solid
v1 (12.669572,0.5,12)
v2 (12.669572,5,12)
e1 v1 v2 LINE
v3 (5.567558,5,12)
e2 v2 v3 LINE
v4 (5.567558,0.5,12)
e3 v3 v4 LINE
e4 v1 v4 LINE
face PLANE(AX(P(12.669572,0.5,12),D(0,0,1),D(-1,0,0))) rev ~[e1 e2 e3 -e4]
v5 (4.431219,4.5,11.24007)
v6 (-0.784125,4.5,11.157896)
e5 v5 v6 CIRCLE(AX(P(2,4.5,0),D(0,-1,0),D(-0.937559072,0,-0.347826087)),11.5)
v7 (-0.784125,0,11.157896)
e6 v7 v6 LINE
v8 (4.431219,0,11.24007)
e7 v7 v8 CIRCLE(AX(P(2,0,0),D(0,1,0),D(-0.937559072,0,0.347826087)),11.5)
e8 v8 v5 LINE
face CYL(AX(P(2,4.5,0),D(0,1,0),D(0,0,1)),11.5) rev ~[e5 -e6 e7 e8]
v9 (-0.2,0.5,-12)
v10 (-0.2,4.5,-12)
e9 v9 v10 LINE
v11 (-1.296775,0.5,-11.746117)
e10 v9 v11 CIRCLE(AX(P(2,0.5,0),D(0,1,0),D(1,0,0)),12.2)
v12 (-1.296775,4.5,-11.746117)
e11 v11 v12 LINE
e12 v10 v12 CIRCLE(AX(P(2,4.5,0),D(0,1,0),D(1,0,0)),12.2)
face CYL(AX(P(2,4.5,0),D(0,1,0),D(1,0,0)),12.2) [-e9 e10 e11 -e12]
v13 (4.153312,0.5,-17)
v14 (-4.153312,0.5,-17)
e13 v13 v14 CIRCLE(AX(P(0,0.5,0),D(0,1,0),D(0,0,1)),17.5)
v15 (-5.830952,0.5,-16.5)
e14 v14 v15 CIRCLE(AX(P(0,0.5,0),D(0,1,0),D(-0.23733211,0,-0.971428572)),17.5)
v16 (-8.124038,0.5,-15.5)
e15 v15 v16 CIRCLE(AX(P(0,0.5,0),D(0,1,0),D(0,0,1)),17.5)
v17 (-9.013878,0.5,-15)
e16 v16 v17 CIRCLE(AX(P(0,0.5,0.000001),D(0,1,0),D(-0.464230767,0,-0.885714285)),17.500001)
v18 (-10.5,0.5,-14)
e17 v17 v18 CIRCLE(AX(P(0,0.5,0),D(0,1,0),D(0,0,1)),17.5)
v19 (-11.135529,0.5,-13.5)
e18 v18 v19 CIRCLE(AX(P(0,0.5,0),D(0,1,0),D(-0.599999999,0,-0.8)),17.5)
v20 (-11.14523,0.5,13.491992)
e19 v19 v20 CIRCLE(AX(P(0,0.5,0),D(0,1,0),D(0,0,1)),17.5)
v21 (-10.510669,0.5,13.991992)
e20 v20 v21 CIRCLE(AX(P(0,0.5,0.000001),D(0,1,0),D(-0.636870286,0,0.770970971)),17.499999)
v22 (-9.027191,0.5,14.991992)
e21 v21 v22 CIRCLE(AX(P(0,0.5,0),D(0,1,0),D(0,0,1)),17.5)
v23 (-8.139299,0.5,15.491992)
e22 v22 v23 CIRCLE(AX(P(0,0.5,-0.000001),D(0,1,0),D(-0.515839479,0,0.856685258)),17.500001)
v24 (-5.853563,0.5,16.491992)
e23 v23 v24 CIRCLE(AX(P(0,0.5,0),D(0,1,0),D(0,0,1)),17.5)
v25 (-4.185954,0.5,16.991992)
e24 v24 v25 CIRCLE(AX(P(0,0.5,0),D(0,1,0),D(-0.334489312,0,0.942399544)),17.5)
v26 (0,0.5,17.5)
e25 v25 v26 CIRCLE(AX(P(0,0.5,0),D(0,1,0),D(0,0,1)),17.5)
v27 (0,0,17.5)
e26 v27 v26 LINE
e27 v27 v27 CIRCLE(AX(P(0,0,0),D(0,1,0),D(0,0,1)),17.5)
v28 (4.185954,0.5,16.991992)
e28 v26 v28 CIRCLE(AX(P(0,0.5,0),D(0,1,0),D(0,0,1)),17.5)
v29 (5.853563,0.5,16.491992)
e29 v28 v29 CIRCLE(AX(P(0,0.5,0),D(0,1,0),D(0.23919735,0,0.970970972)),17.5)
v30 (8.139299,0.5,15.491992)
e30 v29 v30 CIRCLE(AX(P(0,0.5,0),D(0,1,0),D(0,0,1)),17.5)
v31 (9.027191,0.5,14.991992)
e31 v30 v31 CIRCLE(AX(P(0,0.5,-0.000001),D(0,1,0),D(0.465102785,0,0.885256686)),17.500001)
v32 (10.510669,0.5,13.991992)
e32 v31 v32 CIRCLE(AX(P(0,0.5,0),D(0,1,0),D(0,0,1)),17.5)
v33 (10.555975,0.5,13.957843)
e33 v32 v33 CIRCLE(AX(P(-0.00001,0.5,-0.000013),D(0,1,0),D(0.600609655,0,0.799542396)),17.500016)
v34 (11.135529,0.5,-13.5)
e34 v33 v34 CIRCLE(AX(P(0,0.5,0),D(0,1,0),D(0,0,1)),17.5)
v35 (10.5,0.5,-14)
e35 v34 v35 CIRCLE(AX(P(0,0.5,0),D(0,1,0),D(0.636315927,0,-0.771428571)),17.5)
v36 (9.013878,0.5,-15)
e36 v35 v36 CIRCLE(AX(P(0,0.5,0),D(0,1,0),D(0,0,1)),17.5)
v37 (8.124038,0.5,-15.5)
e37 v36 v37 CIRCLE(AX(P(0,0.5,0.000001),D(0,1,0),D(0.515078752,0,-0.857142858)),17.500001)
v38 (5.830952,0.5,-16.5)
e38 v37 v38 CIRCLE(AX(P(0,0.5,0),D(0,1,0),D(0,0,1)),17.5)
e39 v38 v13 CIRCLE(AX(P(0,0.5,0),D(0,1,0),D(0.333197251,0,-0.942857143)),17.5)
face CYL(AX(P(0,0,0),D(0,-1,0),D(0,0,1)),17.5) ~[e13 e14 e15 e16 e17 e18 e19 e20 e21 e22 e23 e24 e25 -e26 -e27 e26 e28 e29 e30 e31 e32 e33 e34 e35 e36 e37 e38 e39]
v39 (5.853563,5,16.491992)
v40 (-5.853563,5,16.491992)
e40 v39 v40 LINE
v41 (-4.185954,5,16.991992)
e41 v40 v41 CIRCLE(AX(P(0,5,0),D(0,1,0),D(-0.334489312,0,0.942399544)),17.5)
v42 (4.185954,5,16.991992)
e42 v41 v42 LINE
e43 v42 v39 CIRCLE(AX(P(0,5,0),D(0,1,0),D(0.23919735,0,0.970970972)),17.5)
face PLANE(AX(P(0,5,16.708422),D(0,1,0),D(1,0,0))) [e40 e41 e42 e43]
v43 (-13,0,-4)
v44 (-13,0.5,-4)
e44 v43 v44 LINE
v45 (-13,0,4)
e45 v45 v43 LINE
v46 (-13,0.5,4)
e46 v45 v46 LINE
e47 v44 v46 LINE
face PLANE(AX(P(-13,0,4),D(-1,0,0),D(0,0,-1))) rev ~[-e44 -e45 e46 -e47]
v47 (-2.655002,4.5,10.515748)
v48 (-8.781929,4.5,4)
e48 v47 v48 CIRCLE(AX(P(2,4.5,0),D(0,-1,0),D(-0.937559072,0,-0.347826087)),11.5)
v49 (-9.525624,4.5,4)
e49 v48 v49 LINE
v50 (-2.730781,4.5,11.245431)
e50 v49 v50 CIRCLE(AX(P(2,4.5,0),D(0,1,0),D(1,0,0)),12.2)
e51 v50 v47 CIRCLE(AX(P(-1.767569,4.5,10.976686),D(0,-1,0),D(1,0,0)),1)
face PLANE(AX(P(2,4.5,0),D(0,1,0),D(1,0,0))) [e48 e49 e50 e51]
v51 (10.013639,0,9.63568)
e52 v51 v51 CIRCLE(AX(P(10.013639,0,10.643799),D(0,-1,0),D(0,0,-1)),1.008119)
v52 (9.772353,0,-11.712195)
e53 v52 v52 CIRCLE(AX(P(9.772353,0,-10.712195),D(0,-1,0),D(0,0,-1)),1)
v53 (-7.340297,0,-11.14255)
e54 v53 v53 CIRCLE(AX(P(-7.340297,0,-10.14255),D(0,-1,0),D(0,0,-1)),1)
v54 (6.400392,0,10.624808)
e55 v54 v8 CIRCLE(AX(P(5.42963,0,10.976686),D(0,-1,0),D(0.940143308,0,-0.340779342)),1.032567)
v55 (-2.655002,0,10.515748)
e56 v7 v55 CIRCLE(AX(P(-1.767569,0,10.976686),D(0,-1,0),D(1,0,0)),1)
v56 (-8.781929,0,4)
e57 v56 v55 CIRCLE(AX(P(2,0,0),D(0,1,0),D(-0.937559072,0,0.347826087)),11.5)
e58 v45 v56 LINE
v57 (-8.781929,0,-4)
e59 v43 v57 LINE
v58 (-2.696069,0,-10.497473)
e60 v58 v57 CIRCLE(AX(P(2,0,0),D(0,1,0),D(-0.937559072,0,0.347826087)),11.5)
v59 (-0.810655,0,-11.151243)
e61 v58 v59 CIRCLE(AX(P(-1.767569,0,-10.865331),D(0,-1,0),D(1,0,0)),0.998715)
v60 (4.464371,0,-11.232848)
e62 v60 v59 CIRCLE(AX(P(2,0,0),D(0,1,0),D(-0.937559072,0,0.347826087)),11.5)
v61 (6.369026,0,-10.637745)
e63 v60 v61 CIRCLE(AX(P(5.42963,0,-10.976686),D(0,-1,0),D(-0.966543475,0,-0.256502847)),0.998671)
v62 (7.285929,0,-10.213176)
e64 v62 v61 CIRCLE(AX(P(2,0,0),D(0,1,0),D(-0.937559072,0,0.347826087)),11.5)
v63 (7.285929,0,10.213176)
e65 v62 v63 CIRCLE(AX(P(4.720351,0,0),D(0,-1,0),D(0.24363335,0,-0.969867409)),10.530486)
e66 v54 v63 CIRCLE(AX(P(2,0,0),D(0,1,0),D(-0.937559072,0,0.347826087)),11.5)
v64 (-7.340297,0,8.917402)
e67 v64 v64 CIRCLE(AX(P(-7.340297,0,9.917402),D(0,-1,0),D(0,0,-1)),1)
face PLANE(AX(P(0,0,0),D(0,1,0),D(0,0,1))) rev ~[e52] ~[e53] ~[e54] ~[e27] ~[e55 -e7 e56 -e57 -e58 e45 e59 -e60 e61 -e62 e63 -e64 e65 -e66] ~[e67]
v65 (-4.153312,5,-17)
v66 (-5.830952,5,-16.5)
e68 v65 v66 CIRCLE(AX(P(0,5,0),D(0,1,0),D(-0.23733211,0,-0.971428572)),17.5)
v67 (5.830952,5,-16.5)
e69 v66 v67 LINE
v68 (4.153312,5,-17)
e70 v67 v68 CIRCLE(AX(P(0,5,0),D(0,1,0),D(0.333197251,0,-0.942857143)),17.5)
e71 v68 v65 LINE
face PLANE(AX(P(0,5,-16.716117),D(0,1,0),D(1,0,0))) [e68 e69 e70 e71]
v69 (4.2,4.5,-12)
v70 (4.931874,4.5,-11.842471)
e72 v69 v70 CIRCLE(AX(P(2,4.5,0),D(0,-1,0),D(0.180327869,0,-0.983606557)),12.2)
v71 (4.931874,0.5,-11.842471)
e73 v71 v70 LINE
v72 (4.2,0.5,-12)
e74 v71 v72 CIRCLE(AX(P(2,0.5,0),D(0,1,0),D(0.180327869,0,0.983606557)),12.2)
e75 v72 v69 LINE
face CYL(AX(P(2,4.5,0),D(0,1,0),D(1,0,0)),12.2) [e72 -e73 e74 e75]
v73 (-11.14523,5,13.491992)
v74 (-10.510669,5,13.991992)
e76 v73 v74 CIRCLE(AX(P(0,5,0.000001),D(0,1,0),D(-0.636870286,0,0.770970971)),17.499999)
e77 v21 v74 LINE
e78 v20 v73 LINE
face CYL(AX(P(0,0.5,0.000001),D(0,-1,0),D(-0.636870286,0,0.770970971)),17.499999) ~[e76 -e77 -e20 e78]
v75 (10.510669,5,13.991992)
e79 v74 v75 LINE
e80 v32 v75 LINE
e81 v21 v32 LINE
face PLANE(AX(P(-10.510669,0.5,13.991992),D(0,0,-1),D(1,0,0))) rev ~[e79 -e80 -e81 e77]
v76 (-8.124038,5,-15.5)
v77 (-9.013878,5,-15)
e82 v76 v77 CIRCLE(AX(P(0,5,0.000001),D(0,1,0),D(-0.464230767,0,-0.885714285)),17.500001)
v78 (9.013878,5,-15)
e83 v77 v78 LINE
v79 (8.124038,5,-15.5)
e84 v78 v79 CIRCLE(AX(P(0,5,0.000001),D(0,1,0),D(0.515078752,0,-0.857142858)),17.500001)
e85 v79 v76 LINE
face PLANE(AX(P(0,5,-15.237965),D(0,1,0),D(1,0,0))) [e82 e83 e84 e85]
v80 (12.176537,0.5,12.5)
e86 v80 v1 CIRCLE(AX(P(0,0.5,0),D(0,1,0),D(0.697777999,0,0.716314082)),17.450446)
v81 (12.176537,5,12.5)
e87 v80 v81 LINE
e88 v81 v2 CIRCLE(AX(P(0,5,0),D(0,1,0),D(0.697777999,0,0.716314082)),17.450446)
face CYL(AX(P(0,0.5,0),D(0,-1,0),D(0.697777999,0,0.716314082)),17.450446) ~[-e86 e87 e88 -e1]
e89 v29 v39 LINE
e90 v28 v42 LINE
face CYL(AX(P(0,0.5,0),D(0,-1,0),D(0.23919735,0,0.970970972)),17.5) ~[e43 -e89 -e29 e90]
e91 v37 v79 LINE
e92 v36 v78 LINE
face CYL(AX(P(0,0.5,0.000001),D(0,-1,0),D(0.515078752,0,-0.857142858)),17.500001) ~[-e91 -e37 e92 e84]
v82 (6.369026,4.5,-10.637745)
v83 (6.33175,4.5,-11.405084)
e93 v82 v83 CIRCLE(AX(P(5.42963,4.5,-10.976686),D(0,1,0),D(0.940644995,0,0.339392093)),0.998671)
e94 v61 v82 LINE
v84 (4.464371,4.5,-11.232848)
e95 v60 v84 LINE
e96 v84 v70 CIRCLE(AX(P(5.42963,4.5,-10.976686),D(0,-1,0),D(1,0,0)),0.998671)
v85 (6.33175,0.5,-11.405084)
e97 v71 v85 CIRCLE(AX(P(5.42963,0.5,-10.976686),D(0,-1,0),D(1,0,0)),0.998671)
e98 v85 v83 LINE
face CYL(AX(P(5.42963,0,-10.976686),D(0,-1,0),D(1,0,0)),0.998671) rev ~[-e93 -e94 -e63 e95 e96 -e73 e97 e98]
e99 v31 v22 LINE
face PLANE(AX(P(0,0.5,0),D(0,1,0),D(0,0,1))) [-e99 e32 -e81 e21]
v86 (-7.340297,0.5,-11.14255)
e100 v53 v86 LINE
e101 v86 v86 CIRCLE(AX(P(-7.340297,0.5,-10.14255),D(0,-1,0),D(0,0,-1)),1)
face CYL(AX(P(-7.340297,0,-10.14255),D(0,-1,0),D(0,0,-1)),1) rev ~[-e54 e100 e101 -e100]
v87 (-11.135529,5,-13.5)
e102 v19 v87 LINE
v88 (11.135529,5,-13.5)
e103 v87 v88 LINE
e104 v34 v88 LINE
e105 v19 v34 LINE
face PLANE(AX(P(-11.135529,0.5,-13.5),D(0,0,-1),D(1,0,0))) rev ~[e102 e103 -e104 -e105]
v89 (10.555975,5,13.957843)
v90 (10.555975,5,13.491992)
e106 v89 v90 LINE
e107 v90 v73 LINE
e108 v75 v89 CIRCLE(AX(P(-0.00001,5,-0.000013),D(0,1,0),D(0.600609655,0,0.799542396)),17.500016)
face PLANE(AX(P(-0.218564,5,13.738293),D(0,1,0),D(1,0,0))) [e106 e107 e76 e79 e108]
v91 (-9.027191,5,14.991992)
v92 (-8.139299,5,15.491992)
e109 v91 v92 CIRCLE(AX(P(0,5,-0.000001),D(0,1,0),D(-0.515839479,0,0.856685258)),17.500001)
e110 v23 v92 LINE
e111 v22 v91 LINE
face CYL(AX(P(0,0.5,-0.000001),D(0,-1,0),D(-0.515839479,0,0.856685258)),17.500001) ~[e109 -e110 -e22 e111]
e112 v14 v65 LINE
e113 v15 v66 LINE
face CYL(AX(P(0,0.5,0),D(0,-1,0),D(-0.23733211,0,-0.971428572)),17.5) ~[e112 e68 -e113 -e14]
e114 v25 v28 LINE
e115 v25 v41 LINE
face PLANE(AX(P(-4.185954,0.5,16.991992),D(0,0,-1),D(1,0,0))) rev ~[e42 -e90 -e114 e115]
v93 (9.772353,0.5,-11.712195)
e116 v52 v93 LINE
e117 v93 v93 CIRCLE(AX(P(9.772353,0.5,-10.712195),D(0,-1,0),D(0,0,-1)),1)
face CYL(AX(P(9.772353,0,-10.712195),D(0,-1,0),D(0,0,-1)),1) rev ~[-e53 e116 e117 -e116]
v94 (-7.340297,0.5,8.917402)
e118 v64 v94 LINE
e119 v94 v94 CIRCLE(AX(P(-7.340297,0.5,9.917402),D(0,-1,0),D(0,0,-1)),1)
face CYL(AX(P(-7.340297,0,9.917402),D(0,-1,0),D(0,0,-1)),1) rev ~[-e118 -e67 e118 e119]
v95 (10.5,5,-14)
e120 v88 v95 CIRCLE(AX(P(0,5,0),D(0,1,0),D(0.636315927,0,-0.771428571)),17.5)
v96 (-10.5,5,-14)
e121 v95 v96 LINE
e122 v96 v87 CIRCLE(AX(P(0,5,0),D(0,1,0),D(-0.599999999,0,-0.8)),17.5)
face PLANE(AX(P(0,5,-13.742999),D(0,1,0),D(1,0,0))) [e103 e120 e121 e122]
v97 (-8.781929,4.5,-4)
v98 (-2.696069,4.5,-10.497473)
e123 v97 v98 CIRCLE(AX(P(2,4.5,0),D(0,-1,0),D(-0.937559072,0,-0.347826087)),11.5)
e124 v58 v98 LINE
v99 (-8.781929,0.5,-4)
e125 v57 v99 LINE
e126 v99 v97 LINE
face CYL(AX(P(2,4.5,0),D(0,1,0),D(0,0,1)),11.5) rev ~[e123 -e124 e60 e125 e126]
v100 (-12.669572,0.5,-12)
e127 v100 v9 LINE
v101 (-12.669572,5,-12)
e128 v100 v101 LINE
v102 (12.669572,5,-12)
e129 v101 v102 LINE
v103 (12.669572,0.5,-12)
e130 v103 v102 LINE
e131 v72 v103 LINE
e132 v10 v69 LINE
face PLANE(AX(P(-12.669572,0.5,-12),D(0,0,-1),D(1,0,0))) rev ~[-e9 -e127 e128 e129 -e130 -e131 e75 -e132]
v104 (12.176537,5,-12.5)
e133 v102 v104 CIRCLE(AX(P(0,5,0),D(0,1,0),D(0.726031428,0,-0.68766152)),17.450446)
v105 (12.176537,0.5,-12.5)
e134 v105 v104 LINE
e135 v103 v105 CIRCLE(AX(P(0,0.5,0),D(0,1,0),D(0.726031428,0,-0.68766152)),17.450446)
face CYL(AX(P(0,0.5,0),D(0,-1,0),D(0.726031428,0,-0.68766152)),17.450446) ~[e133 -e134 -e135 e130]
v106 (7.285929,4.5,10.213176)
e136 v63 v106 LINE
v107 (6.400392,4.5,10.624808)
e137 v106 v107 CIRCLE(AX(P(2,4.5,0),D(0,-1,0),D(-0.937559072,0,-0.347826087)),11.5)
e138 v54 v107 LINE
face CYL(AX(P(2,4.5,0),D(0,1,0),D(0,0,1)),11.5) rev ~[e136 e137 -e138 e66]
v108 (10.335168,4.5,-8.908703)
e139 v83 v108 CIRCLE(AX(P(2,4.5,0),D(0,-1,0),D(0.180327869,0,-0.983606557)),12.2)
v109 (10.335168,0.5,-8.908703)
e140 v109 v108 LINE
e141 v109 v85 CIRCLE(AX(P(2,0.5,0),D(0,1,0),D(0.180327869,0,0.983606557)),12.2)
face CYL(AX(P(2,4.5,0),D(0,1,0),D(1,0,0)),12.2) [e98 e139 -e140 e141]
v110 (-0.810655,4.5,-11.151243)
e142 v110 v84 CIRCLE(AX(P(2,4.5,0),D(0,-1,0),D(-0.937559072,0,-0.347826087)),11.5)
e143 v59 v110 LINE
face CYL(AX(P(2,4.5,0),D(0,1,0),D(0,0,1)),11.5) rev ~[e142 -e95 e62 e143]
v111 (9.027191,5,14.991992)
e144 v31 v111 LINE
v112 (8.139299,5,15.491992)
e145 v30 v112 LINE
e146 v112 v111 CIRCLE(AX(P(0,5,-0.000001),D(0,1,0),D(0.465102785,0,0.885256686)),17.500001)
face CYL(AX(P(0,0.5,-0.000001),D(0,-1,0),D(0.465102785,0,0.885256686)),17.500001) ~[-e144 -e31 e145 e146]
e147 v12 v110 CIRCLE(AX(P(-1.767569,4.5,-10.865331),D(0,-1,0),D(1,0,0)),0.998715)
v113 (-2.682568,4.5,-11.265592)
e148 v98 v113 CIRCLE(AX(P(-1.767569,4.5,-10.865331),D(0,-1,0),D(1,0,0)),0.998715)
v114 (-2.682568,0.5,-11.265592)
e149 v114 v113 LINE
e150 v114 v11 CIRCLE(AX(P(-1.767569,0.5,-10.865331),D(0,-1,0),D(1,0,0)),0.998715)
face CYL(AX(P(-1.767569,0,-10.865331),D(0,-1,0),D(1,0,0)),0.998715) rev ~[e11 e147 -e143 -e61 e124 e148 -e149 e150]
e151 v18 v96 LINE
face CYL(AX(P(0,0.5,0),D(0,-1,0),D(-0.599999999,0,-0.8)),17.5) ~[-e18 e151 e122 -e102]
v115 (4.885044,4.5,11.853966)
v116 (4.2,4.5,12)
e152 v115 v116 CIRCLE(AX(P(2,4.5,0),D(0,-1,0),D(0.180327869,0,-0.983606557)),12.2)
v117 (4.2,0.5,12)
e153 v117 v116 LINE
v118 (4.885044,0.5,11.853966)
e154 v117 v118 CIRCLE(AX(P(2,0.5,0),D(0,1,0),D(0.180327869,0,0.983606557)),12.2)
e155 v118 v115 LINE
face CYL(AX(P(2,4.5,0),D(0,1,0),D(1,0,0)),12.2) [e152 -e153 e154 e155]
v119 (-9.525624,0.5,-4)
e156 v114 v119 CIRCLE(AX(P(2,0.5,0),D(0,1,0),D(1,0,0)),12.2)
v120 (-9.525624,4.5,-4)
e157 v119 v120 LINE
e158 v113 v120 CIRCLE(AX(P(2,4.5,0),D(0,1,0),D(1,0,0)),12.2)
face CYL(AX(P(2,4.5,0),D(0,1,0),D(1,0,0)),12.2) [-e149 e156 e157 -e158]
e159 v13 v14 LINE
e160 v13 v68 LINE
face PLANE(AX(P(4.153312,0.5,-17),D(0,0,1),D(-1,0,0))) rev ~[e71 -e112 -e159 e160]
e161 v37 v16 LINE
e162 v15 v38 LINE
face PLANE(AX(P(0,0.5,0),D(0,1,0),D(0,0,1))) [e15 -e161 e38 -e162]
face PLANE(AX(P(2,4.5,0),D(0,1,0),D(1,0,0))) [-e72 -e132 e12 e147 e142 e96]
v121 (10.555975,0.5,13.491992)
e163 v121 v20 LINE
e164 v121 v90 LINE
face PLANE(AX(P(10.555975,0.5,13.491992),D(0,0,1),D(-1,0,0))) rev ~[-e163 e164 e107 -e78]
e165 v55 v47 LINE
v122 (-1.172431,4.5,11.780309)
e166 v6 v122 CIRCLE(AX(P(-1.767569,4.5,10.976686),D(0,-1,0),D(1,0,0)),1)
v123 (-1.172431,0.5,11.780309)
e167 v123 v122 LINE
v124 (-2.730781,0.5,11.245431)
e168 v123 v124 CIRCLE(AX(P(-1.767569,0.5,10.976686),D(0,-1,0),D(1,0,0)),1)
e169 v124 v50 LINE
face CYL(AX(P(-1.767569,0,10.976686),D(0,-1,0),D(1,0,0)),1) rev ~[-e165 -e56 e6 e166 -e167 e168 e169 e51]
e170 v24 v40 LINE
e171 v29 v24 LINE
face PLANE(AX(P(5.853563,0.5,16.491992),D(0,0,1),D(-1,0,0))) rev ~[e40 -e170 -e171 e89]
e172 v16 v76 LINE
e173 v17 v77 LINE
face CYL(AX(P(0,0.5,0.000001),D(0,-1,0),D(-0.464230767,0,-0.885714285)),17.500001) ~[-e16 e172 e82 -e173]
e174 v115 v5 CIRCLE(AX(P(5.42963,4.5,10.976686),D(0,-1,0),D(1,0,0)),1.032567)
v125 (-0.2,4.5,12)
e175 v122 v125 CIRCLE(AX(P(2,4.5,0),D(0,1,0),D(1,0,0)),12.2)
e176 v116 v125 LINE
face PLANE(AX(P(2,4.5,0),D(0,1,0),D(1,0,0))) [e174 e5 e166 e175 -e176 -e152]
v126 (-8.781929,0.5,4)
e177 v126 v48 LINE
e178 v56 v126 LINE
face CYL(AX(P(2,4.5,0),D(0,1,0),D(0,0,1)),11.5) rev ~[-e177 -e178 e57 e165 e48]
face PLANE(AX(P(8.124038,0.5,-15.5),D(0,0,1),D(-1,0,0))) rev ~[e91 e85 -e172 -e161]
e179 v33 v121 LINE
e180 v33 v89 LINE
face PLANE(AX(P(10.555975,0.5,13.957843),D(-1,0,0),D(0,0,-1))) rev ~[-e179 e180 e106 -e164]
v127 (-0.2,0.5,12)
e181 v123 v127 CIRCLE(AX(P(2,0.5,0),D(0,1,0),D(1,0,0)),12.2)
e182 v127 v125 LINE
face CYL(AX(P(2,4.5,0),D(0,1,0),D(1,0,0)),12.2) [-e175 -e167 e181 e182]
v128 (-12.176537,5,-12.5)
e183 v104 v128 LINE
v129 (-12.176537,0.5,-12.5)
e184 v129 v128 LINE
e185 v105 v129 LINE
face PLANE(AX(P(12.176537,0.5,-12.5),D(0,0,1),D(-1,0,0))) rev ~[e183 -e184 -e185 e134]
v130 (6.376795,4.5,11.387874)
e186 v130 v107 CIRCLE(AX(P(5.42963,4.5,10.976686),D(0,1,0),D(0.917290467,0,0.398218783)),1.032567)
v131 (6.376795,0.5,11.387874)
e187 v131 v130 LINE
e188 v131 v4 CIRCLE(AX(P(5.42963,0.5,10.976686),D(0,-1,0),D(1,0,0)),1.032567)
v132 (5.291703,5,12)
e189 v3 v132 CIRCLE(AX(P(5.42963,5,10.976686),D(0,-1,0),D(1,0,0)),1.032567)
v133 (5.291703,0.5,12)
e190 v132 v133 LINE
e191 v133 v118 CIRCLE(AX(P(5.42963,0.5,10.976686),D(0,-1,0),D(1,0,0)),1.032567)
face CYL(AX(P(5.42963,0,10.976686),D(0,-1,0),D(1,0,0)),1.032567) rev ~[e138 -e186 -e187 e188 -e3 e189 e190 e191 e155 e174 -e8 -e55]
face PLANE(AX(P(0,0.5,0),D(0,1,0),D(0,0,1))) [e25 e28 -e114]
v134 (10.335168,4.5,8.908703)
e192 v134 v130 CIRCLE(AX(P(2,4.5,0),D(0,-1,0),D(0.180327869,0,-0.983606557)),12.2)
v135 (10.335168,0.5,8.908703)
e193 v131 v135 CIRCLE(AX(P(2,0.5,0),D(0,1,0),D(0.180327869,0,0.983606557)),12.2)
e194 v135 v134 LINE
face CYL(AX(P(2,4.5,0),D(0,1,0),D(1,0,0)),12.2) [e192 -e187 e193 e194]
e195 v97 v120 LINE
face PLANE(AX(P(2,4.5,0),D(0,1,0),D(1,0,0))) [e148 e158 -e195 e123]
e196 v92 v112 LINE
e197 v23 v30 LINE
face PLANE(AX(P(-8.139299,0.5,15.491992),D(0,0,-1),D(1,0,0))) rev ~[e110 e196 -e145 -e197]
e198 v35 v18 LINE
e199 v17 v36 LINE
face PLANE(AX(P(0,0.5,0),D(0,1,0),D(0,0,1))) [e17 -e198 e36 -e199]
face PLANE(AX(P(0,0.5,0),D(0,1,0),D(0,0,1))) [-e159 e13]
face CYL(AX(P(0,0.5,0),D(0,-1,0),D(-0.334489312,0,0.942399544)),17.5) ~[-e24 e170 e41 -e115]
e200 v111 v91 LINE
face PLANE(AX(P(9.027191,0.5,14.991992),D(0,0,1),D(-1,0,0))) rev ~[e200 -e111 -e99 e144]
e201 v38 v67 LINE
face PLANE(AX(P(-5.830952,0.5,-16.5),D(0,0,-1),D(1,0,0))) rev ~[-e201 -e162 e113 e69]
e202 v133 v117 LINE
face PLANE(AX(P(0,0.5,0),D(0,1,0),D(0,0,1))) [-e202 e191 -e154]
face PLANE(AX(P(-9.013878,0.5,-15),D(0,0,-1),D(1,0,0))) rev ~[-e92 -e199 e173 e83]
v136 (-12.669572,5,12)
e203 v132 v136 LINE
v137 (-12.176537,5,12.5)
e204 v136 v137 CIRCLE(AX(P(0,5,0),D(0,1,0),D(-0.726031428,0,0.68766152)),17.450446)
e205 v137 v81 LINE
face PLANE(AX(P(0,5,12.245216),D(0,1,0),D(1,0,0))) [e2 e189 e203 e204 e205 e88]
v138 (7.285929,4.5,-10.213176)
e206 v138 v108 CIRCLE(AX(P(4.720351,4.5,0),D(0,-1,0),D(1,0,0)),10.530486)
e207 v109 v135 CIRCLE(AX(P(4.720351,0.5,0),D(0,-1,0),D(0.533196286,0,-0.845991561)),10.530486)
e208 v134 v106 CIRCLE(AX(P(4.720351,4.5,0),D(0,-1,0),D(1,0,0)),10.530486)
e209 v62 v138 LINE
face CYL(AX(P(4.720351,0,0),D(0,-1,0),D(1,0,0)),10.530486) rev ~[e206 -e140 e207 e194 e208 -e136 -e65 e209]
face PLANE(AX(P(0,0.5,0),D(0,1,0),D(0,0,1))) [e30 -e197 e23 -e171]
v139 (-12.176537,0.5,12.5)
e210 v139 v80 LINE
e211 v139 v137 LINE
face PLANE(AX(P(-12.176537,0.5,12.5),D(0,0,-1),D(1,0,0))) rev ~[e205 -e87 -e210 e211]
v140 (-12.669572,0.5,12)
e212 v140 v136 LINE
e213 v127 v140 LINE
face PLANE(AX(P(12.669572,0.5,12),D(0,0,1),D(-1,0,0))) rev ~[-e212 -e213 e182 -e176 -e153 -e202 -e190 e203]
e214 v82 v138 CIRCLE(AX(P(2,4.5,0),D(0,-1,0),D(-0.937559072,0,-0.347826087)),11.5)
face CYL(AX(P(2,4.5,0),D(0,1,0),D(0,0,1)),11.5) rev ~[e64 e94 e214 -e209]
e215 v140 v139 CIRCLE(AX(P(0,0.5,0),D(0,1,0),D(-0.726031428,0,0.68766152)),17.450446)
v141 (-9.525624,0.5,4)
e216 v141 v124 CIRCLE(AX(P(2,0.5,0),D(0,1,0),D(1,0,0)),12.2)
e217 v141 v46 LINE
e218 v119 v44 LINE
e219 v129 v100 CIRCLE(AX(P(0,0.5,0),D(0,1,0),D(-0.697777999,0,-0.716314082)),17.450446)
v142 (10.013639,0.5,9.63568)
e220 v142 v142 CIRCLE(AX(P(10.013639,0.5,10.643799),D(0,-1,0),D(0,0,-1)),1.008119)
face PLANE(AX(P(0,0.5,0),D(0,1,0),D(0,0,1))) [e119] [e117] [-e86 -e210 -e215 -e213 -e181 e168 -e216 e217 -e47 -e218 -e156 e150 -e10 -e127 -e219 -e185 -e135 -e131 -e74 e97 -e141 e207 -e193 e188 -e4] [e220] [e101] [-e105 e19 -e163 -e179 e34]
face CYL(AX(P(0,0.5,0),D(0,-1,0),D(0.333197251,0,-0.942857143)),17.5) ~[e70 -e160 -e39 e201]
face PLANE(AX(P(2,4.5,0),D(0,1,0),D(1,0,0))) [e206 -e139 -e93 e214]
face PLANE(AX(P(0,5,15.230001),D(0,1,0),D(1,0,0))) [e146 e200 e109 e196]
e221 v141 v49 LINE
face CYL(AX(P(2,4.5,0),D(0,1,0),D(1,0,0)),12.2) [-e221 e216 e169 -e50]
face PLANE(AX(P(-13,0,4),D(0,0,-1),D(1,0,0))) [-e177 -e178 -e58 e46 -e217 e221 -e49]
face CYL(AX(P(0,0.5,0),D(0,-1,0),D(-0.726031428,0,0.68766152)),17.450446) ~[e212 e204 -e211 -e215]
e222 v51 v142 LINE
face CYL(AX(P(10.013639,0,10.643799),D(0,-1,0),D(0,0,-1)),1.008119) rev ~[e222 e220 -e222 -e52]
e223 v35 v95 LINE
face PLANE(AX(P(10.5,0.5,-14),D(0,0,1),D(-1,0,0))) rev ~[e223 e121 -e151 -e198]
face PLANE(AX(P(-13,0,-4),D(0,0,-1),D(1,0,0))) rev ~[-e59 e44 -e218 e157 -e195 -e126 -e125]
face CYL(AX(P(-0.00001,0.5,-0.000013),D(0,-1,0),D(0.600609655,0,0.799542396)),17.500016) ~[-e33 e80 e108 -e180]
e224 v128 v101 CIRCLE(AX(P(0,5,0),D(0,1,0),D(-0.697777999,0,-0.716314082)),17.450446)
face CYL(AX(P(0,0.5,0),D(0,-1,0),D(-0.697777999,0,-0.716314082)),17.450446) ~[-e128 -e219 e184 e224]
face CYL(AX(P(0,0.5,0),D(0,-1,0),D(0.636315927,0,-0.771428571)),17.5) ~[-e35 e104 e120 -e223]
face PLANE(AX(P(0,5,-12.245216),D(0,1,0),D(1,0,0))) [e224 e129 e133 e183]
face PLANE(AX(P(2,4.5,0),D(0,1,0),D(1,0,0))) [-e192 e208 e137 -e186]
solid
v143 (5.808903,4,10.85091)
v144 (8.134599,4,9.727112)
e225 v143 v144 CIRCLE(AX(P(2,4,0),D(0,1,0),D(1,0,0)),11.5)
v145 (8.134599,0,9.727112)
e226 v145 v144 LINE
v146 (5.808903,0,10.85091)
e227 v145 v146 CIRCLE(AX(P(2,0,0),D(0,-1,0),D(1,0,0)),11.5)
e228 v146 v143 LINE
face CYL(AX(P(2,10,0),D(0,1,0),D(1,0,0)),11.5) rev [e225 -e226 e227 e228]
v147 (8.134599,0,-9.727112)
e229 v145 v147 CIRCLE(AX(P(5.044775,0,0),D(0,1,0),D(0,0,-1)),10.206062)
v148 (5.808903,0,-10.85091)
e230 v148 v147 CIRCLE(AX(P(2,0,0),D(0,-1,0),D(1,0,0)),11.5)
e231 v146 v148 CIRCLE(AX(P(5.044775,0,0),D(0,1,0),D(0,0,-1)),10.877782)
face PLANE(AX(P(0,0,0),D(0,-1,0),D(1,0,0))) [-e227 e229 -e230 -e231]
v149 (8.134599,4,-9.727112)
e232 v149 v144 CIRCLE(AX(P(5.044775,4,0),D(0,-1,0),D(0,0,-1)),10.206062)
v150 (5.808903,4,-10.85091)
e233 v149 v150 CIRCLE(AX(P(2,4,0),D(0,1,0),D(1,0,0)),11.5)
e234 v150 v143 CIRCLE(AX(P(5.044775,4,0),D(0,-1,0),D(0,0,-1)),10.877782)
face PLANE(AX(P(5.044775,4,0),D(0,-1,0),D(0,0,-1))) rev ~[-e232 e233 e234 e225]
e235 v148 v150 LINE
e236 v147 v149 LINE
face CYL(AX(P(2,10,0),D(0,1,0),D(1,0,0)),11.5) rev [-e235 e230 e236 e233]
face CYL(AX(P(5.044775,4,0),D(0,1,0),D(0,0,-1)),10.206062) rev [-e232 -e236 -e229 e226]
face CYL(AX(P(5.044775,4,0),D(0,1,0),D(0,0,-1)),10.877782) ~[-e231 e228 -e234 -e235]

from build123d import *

# Parameters (mm, degrees)
SKETCH1_R                = 17.5
BOSS_EXTRUDE1_DEPTH      = 0.5
SKETCH2_R                = 11.5
CUT_EXTRUDE1_DEPTH       = 0.5
SKETCH3_W                = 15
SKETCH3_H                = 8
CUT_EXTRUDE4_DEPTH       = 2.5
BOSS_EXTRUDE6_DEPTH      = 4.5
BOSS_EXTRUDE7_START      = 4
SKETCH9_R                = 12.2
SKETCH9_R_2              = 11.5
BOSS_EXTRUDE7_DEPTH      = 4
SKETCH10_W               = 4.218070674
SKETCH10_H               = 8
CUT_EXTRUDE5_DEPTH       = 6
SKETCH11_R               = 1
SKETCH11_R_2             = 0.998714777
SKETCH11_R_3             = 0.998671431
SKETCH11_R_4             = 1.032567444
SKETCH11_R_5             = 1.008118798
CUT_EXTRUDE7_DEPTH       = 100
SKETCH12_R               = 10.530486407
CUT_EXTRUDE8_DEPTH       = 10
BOSS_EXTRUDE8_DEPTH      = 1
BOSS_EXTRUDE8_DEPTH_BACK = 4
SKETCH13_R               = 10.877782244
SKETCH13_R_2             = 10.206062314
SKETCH15_R               = 24.190565002
CUT_EXTRUDE9_DEPTH       = 1
CUT_EXTRUDE10_START      = -10
SKETCH16_R               = 11.5
CUT_EXTRUDE10_DEPTH      = 10


with BuildPart() as part:
    # Sketch1 → Boss-Extrude1 (new body)
    with BuildSketch(Plane(origin=(0, 0, 0), x_dir=(1, 0, 0), z_dir=(0, 1, 0))):
        with Locations(Location((0, 0, 0), (0, 0, 270))):
            Circle(SKETCH1_R)
    extrude(amount=BOSS_EXTRUDE1_DEPTH)

    # Sketch2 → Cut-Extrude1 (cut)
    with BuildSketch(Plane(origin=(0, 0.5, 0), x_dir=(1, 0, 0), z_dir=(0, 1, 0))):
        with Locations(Location((2, 0, 0), (0, 0, 270))):
            Circle(SKETCH2_R)
    extrude(amount=-CUT_EXTRUDE1_DEPTH, mode=Mode.SUBTRACT)

    # Sketch3 → Cut-Extrude4 (cut)
    with BuildSketch(Plane(origin=(0, 0, 0), x_dir=(1, 0, 0), z_dir=(0, 1, 0))):
        with Locations((-5.5, 0)):
            Rectangle(SKETCH3_W, SKETCH3_H)
    extrude(amount=CUT_EXTRUDE4_DEPTH, mode=Mode.SUBTRACT)

    # Sketch7 → Boss-Extrude6 (add)
    with BuildSketch(Plane(origin=(0, 0.5, 0), x_dir=(1, 0, 0), z_dir=(0, 1, 0))):
        with BuildLine():
            Line((-11.135528726, 13.5), (11.135528726, 13.5))
            ThreePointArc((11.135528726, 13.5), (10.820652744, 13.753671299), (10.5, 14))
            Line((10.5, 14), (-10.5, 14))
            ThreePointArc((-10.5, 14), (-10.820652744, 13.753671299), (-11.135528726, 13.5))
        make_face()
        with BuildLine():
            Line((12.176537068, 12.5), (-12.176537068, 12.5))
            ThreePointArc((-12.176537068, 12.5), (-12.42556977, 12.252480192), (-12.669572012, 12))
            Line((-12.669572012, 12), (12.669572012, 12))
            ThreePointArc((12.669572012, 12), (12.42556977, 12.252480192), (12.176537068, 12.5))
        make_face()
        with BuildLine():
            ThreePointArc((-11.145229996, -13.491992008), (-10.830835088, -13.74565427), (-10.510668849, -13.991992008))
            Line((-10.510668849, -13.991992008), (10.510668849, -13.991992008))
            ThreePointArc((10.510668849, -13.991992008), (10.53333572, -13.974936086), (10.555974914, -13.957843444))
            Line((10.555974914, -13.957843444), (10.555974914, -13.491992008))
            Line((10.555974914, -13.491992008), (-11.145229996, -13.491992008))
        make_face()
        with BuildLine():
            Line((-9.013878189, 15), (9.013878189, 15))
            ThreePointArc((9.013878189, 15), (8.572604405, 15.256488905), (8.124038405, 15.5))
            Line((8.124038405, 15.5), (-8.124038405, 15.5))
            ThreePointArc((-8.124038405, 15.5), (-8.572604405, 15.256488905), (-9.013878189, 15))
        make_face()
        with BuildLine():
            ThreePointArc((-9.027190906, -14.991992008), (-8.586884855, -15.248455938), (-8.139298719, -15.491992008))
            Line((-8.139298719, -15.491992008), (8.139298719, -15.491992008))
            ThreePointArc((8.139298719, -15.491992008), (8.586884855, -15.248455938), (9.027190906, -14.991992008))
            Line((9.027190906, -14.991992008), (-9.027190906, -14.991992008))
        make_face()
        with BuildLine():
            Line((-5.830951895, 16.5), (5.830951895, 16.5))
            ThreePointArc((5.830951895, 16.5), (4.998387844, 16.770990399), (4.153311931, 17))
            Line((4.153311931, 17), (-4.153311931, 17))
            ThreePointArc((-4.153311931, 17), (-4.998387844, 16.770990399), (-5.830951895, 16.5))
        make_face()
        with BuildLine():
            Line((5.853562985, -16.491992008), (-5.853562985, -16.491992008))
            ThreePointArc((-5.853562985, -16.491992008), (-5.025979841, -16.762742217), (-4.185953609, -16.991992008))
            Line((-4.185953609, -16.991992008), (4.185953609, -16.991992008))
            ThreePointArc((4.185953609, -16.991992008), (5.025979841, -16.762742217), (5.853562985, -16.491992008))
        make_face()
        with BuildLine():
            Line((12.669572012, -12), (-12.669572012, -12))
            ThreePointArc((-12.669572012, -12), (-12.42556977, -12.252480192), (-12.176537068, -12.5))
            Line((-12.176537068, -12.5), (12.176537068, -12.5))
            ThreePointArc((12.176537068, -12.5), (12.42556977, -12.252480192), (12.669572012, -12))
        make_face()
    extrude(amount=BOSS_EXTRUDE6_DEPTH)

    # Sketch9 → Boss-Extrude7 (add)
    with BuildSketch(Plane(origin=(0, 0.5, 0), x_dir=(1, 0, 0), z_dir=(0, 1, 0)).offset(BOSS_EXTRUDE7_START)):
        with Locations((2, 0)):
            Circle(SKETCH9_R)
        with Locations(Location((2, 0, 0), (0, 0, 270))):
            Circle(SKETCH9_R_2, mode=Mode.SUBTRACT)
    extrude(amount=-BOSS_EXTRUDE7_DEPTH)

    # Sketch10 → Cut-Extrude5 (cut)
    with BuildSketch(Plane.XZ):
        with Locations((-10.890964663, 0)):
            Rectangle(SKETCH10_W, SKETCH10_H)
    extrude(amount=-CUT_EXTRUDE5_DEPTH, mode=Mode.SUBTRACT)

    # Sketch11 → Cut-Extrude7 (cut)
    with BuildSketch(Plane.XZ):
        with Locations(Location((-7.340296828, -10.142549821, 0), (0, 0, 270))):
            Circle(SKETCH11_R)
        with Locations((-1.767569388, -10.865331146)):
            Circle(SKETCH11_R_2)
        with Locations((5.429630438, -10.976685978)):
            Circle(SKETCH11_R_3)
        with Locations(Location((-7.340296828, 9.917402438, 0), (0, 0, 270))):
            Circle(SKETCH11_R)
        with Locations((5.429630438, 10.976685978)):
            Circle(SKETCH11_R_4)
        with Locations((-1.767569388, 10.976685978)):
            Circle(SKETCH11_R)
        with Locations(Location((10.013638897, 10.643798729, 0), (0, 0, 270))):
            Circle(SKETCH11_R_5)
        with Locations(Location((9.772353005, -10.712194768, 0), (0, 0, 270))):
            Circle(SKETCH11_R)
    extrude(amount=-CUT_EXTRUDE7_DEPTH, mode=Mode.SUBTRACT)

    # Sketch12 → Cut-Extrude8 (cut)
    with BuildSketch(Plane.XZ):
        with Locations((4.720351271, 0)):
            Circle(SKETCH12_R)
    extrude(amount=-CUT_EXTRUDE8_DEPTH, mode=Mode.SUBTRACT)


with BuildPart() as body_2:
    # Sketch13 → Boss-Extrude8 (new, two sides: drawn at the far end of the back side and taken through both)
    with BuildSketch(Plane(origin=(0, 0, 0), x_dir=(-1, 0, 0), z_dir=(0, -1, 0)).offset(-BOSS_EXTRUDE8_DEPTH_BACK)):
        with Locations(Location((-5.044775364, 0, 0), (0, 0, 90))):
            Circle(SKETCH13_R)
        with Locations(Location((-5.044775364, 0, 0), (0, 0, 90))):
            Circle(SKETCH13_R_2, mode=Mode.SUBTRACT)
    extrude(amount=BOSS_EXTRUDE8_DEPTH + BOSS_EXTRUDE8_DEPTH_BACK)

    # Sketch15 → Cut-Extrude9 (cut)
    with BuildSketch(Plane.XZ.offset(1)):
        Circle(SKETCH15_R)
    extrude(amount=-CUT_EXTRUDE9_DEPTH, mode=Mode.SUBTRACT)

    # Sketch16 → Cut-Extrude10 (cut)
    with BuildSketch(Plane.XZ.offset(CUT_EXTRUDE10_START)):
        with Locations((2, 0)):
            Circle(SKETCH16_R)
    extrude(amount=CUT_EXTRUDE10_DEPTH, mode=Mode.SUBTRACT)


solid = Compound([part.part, body_2.part])
